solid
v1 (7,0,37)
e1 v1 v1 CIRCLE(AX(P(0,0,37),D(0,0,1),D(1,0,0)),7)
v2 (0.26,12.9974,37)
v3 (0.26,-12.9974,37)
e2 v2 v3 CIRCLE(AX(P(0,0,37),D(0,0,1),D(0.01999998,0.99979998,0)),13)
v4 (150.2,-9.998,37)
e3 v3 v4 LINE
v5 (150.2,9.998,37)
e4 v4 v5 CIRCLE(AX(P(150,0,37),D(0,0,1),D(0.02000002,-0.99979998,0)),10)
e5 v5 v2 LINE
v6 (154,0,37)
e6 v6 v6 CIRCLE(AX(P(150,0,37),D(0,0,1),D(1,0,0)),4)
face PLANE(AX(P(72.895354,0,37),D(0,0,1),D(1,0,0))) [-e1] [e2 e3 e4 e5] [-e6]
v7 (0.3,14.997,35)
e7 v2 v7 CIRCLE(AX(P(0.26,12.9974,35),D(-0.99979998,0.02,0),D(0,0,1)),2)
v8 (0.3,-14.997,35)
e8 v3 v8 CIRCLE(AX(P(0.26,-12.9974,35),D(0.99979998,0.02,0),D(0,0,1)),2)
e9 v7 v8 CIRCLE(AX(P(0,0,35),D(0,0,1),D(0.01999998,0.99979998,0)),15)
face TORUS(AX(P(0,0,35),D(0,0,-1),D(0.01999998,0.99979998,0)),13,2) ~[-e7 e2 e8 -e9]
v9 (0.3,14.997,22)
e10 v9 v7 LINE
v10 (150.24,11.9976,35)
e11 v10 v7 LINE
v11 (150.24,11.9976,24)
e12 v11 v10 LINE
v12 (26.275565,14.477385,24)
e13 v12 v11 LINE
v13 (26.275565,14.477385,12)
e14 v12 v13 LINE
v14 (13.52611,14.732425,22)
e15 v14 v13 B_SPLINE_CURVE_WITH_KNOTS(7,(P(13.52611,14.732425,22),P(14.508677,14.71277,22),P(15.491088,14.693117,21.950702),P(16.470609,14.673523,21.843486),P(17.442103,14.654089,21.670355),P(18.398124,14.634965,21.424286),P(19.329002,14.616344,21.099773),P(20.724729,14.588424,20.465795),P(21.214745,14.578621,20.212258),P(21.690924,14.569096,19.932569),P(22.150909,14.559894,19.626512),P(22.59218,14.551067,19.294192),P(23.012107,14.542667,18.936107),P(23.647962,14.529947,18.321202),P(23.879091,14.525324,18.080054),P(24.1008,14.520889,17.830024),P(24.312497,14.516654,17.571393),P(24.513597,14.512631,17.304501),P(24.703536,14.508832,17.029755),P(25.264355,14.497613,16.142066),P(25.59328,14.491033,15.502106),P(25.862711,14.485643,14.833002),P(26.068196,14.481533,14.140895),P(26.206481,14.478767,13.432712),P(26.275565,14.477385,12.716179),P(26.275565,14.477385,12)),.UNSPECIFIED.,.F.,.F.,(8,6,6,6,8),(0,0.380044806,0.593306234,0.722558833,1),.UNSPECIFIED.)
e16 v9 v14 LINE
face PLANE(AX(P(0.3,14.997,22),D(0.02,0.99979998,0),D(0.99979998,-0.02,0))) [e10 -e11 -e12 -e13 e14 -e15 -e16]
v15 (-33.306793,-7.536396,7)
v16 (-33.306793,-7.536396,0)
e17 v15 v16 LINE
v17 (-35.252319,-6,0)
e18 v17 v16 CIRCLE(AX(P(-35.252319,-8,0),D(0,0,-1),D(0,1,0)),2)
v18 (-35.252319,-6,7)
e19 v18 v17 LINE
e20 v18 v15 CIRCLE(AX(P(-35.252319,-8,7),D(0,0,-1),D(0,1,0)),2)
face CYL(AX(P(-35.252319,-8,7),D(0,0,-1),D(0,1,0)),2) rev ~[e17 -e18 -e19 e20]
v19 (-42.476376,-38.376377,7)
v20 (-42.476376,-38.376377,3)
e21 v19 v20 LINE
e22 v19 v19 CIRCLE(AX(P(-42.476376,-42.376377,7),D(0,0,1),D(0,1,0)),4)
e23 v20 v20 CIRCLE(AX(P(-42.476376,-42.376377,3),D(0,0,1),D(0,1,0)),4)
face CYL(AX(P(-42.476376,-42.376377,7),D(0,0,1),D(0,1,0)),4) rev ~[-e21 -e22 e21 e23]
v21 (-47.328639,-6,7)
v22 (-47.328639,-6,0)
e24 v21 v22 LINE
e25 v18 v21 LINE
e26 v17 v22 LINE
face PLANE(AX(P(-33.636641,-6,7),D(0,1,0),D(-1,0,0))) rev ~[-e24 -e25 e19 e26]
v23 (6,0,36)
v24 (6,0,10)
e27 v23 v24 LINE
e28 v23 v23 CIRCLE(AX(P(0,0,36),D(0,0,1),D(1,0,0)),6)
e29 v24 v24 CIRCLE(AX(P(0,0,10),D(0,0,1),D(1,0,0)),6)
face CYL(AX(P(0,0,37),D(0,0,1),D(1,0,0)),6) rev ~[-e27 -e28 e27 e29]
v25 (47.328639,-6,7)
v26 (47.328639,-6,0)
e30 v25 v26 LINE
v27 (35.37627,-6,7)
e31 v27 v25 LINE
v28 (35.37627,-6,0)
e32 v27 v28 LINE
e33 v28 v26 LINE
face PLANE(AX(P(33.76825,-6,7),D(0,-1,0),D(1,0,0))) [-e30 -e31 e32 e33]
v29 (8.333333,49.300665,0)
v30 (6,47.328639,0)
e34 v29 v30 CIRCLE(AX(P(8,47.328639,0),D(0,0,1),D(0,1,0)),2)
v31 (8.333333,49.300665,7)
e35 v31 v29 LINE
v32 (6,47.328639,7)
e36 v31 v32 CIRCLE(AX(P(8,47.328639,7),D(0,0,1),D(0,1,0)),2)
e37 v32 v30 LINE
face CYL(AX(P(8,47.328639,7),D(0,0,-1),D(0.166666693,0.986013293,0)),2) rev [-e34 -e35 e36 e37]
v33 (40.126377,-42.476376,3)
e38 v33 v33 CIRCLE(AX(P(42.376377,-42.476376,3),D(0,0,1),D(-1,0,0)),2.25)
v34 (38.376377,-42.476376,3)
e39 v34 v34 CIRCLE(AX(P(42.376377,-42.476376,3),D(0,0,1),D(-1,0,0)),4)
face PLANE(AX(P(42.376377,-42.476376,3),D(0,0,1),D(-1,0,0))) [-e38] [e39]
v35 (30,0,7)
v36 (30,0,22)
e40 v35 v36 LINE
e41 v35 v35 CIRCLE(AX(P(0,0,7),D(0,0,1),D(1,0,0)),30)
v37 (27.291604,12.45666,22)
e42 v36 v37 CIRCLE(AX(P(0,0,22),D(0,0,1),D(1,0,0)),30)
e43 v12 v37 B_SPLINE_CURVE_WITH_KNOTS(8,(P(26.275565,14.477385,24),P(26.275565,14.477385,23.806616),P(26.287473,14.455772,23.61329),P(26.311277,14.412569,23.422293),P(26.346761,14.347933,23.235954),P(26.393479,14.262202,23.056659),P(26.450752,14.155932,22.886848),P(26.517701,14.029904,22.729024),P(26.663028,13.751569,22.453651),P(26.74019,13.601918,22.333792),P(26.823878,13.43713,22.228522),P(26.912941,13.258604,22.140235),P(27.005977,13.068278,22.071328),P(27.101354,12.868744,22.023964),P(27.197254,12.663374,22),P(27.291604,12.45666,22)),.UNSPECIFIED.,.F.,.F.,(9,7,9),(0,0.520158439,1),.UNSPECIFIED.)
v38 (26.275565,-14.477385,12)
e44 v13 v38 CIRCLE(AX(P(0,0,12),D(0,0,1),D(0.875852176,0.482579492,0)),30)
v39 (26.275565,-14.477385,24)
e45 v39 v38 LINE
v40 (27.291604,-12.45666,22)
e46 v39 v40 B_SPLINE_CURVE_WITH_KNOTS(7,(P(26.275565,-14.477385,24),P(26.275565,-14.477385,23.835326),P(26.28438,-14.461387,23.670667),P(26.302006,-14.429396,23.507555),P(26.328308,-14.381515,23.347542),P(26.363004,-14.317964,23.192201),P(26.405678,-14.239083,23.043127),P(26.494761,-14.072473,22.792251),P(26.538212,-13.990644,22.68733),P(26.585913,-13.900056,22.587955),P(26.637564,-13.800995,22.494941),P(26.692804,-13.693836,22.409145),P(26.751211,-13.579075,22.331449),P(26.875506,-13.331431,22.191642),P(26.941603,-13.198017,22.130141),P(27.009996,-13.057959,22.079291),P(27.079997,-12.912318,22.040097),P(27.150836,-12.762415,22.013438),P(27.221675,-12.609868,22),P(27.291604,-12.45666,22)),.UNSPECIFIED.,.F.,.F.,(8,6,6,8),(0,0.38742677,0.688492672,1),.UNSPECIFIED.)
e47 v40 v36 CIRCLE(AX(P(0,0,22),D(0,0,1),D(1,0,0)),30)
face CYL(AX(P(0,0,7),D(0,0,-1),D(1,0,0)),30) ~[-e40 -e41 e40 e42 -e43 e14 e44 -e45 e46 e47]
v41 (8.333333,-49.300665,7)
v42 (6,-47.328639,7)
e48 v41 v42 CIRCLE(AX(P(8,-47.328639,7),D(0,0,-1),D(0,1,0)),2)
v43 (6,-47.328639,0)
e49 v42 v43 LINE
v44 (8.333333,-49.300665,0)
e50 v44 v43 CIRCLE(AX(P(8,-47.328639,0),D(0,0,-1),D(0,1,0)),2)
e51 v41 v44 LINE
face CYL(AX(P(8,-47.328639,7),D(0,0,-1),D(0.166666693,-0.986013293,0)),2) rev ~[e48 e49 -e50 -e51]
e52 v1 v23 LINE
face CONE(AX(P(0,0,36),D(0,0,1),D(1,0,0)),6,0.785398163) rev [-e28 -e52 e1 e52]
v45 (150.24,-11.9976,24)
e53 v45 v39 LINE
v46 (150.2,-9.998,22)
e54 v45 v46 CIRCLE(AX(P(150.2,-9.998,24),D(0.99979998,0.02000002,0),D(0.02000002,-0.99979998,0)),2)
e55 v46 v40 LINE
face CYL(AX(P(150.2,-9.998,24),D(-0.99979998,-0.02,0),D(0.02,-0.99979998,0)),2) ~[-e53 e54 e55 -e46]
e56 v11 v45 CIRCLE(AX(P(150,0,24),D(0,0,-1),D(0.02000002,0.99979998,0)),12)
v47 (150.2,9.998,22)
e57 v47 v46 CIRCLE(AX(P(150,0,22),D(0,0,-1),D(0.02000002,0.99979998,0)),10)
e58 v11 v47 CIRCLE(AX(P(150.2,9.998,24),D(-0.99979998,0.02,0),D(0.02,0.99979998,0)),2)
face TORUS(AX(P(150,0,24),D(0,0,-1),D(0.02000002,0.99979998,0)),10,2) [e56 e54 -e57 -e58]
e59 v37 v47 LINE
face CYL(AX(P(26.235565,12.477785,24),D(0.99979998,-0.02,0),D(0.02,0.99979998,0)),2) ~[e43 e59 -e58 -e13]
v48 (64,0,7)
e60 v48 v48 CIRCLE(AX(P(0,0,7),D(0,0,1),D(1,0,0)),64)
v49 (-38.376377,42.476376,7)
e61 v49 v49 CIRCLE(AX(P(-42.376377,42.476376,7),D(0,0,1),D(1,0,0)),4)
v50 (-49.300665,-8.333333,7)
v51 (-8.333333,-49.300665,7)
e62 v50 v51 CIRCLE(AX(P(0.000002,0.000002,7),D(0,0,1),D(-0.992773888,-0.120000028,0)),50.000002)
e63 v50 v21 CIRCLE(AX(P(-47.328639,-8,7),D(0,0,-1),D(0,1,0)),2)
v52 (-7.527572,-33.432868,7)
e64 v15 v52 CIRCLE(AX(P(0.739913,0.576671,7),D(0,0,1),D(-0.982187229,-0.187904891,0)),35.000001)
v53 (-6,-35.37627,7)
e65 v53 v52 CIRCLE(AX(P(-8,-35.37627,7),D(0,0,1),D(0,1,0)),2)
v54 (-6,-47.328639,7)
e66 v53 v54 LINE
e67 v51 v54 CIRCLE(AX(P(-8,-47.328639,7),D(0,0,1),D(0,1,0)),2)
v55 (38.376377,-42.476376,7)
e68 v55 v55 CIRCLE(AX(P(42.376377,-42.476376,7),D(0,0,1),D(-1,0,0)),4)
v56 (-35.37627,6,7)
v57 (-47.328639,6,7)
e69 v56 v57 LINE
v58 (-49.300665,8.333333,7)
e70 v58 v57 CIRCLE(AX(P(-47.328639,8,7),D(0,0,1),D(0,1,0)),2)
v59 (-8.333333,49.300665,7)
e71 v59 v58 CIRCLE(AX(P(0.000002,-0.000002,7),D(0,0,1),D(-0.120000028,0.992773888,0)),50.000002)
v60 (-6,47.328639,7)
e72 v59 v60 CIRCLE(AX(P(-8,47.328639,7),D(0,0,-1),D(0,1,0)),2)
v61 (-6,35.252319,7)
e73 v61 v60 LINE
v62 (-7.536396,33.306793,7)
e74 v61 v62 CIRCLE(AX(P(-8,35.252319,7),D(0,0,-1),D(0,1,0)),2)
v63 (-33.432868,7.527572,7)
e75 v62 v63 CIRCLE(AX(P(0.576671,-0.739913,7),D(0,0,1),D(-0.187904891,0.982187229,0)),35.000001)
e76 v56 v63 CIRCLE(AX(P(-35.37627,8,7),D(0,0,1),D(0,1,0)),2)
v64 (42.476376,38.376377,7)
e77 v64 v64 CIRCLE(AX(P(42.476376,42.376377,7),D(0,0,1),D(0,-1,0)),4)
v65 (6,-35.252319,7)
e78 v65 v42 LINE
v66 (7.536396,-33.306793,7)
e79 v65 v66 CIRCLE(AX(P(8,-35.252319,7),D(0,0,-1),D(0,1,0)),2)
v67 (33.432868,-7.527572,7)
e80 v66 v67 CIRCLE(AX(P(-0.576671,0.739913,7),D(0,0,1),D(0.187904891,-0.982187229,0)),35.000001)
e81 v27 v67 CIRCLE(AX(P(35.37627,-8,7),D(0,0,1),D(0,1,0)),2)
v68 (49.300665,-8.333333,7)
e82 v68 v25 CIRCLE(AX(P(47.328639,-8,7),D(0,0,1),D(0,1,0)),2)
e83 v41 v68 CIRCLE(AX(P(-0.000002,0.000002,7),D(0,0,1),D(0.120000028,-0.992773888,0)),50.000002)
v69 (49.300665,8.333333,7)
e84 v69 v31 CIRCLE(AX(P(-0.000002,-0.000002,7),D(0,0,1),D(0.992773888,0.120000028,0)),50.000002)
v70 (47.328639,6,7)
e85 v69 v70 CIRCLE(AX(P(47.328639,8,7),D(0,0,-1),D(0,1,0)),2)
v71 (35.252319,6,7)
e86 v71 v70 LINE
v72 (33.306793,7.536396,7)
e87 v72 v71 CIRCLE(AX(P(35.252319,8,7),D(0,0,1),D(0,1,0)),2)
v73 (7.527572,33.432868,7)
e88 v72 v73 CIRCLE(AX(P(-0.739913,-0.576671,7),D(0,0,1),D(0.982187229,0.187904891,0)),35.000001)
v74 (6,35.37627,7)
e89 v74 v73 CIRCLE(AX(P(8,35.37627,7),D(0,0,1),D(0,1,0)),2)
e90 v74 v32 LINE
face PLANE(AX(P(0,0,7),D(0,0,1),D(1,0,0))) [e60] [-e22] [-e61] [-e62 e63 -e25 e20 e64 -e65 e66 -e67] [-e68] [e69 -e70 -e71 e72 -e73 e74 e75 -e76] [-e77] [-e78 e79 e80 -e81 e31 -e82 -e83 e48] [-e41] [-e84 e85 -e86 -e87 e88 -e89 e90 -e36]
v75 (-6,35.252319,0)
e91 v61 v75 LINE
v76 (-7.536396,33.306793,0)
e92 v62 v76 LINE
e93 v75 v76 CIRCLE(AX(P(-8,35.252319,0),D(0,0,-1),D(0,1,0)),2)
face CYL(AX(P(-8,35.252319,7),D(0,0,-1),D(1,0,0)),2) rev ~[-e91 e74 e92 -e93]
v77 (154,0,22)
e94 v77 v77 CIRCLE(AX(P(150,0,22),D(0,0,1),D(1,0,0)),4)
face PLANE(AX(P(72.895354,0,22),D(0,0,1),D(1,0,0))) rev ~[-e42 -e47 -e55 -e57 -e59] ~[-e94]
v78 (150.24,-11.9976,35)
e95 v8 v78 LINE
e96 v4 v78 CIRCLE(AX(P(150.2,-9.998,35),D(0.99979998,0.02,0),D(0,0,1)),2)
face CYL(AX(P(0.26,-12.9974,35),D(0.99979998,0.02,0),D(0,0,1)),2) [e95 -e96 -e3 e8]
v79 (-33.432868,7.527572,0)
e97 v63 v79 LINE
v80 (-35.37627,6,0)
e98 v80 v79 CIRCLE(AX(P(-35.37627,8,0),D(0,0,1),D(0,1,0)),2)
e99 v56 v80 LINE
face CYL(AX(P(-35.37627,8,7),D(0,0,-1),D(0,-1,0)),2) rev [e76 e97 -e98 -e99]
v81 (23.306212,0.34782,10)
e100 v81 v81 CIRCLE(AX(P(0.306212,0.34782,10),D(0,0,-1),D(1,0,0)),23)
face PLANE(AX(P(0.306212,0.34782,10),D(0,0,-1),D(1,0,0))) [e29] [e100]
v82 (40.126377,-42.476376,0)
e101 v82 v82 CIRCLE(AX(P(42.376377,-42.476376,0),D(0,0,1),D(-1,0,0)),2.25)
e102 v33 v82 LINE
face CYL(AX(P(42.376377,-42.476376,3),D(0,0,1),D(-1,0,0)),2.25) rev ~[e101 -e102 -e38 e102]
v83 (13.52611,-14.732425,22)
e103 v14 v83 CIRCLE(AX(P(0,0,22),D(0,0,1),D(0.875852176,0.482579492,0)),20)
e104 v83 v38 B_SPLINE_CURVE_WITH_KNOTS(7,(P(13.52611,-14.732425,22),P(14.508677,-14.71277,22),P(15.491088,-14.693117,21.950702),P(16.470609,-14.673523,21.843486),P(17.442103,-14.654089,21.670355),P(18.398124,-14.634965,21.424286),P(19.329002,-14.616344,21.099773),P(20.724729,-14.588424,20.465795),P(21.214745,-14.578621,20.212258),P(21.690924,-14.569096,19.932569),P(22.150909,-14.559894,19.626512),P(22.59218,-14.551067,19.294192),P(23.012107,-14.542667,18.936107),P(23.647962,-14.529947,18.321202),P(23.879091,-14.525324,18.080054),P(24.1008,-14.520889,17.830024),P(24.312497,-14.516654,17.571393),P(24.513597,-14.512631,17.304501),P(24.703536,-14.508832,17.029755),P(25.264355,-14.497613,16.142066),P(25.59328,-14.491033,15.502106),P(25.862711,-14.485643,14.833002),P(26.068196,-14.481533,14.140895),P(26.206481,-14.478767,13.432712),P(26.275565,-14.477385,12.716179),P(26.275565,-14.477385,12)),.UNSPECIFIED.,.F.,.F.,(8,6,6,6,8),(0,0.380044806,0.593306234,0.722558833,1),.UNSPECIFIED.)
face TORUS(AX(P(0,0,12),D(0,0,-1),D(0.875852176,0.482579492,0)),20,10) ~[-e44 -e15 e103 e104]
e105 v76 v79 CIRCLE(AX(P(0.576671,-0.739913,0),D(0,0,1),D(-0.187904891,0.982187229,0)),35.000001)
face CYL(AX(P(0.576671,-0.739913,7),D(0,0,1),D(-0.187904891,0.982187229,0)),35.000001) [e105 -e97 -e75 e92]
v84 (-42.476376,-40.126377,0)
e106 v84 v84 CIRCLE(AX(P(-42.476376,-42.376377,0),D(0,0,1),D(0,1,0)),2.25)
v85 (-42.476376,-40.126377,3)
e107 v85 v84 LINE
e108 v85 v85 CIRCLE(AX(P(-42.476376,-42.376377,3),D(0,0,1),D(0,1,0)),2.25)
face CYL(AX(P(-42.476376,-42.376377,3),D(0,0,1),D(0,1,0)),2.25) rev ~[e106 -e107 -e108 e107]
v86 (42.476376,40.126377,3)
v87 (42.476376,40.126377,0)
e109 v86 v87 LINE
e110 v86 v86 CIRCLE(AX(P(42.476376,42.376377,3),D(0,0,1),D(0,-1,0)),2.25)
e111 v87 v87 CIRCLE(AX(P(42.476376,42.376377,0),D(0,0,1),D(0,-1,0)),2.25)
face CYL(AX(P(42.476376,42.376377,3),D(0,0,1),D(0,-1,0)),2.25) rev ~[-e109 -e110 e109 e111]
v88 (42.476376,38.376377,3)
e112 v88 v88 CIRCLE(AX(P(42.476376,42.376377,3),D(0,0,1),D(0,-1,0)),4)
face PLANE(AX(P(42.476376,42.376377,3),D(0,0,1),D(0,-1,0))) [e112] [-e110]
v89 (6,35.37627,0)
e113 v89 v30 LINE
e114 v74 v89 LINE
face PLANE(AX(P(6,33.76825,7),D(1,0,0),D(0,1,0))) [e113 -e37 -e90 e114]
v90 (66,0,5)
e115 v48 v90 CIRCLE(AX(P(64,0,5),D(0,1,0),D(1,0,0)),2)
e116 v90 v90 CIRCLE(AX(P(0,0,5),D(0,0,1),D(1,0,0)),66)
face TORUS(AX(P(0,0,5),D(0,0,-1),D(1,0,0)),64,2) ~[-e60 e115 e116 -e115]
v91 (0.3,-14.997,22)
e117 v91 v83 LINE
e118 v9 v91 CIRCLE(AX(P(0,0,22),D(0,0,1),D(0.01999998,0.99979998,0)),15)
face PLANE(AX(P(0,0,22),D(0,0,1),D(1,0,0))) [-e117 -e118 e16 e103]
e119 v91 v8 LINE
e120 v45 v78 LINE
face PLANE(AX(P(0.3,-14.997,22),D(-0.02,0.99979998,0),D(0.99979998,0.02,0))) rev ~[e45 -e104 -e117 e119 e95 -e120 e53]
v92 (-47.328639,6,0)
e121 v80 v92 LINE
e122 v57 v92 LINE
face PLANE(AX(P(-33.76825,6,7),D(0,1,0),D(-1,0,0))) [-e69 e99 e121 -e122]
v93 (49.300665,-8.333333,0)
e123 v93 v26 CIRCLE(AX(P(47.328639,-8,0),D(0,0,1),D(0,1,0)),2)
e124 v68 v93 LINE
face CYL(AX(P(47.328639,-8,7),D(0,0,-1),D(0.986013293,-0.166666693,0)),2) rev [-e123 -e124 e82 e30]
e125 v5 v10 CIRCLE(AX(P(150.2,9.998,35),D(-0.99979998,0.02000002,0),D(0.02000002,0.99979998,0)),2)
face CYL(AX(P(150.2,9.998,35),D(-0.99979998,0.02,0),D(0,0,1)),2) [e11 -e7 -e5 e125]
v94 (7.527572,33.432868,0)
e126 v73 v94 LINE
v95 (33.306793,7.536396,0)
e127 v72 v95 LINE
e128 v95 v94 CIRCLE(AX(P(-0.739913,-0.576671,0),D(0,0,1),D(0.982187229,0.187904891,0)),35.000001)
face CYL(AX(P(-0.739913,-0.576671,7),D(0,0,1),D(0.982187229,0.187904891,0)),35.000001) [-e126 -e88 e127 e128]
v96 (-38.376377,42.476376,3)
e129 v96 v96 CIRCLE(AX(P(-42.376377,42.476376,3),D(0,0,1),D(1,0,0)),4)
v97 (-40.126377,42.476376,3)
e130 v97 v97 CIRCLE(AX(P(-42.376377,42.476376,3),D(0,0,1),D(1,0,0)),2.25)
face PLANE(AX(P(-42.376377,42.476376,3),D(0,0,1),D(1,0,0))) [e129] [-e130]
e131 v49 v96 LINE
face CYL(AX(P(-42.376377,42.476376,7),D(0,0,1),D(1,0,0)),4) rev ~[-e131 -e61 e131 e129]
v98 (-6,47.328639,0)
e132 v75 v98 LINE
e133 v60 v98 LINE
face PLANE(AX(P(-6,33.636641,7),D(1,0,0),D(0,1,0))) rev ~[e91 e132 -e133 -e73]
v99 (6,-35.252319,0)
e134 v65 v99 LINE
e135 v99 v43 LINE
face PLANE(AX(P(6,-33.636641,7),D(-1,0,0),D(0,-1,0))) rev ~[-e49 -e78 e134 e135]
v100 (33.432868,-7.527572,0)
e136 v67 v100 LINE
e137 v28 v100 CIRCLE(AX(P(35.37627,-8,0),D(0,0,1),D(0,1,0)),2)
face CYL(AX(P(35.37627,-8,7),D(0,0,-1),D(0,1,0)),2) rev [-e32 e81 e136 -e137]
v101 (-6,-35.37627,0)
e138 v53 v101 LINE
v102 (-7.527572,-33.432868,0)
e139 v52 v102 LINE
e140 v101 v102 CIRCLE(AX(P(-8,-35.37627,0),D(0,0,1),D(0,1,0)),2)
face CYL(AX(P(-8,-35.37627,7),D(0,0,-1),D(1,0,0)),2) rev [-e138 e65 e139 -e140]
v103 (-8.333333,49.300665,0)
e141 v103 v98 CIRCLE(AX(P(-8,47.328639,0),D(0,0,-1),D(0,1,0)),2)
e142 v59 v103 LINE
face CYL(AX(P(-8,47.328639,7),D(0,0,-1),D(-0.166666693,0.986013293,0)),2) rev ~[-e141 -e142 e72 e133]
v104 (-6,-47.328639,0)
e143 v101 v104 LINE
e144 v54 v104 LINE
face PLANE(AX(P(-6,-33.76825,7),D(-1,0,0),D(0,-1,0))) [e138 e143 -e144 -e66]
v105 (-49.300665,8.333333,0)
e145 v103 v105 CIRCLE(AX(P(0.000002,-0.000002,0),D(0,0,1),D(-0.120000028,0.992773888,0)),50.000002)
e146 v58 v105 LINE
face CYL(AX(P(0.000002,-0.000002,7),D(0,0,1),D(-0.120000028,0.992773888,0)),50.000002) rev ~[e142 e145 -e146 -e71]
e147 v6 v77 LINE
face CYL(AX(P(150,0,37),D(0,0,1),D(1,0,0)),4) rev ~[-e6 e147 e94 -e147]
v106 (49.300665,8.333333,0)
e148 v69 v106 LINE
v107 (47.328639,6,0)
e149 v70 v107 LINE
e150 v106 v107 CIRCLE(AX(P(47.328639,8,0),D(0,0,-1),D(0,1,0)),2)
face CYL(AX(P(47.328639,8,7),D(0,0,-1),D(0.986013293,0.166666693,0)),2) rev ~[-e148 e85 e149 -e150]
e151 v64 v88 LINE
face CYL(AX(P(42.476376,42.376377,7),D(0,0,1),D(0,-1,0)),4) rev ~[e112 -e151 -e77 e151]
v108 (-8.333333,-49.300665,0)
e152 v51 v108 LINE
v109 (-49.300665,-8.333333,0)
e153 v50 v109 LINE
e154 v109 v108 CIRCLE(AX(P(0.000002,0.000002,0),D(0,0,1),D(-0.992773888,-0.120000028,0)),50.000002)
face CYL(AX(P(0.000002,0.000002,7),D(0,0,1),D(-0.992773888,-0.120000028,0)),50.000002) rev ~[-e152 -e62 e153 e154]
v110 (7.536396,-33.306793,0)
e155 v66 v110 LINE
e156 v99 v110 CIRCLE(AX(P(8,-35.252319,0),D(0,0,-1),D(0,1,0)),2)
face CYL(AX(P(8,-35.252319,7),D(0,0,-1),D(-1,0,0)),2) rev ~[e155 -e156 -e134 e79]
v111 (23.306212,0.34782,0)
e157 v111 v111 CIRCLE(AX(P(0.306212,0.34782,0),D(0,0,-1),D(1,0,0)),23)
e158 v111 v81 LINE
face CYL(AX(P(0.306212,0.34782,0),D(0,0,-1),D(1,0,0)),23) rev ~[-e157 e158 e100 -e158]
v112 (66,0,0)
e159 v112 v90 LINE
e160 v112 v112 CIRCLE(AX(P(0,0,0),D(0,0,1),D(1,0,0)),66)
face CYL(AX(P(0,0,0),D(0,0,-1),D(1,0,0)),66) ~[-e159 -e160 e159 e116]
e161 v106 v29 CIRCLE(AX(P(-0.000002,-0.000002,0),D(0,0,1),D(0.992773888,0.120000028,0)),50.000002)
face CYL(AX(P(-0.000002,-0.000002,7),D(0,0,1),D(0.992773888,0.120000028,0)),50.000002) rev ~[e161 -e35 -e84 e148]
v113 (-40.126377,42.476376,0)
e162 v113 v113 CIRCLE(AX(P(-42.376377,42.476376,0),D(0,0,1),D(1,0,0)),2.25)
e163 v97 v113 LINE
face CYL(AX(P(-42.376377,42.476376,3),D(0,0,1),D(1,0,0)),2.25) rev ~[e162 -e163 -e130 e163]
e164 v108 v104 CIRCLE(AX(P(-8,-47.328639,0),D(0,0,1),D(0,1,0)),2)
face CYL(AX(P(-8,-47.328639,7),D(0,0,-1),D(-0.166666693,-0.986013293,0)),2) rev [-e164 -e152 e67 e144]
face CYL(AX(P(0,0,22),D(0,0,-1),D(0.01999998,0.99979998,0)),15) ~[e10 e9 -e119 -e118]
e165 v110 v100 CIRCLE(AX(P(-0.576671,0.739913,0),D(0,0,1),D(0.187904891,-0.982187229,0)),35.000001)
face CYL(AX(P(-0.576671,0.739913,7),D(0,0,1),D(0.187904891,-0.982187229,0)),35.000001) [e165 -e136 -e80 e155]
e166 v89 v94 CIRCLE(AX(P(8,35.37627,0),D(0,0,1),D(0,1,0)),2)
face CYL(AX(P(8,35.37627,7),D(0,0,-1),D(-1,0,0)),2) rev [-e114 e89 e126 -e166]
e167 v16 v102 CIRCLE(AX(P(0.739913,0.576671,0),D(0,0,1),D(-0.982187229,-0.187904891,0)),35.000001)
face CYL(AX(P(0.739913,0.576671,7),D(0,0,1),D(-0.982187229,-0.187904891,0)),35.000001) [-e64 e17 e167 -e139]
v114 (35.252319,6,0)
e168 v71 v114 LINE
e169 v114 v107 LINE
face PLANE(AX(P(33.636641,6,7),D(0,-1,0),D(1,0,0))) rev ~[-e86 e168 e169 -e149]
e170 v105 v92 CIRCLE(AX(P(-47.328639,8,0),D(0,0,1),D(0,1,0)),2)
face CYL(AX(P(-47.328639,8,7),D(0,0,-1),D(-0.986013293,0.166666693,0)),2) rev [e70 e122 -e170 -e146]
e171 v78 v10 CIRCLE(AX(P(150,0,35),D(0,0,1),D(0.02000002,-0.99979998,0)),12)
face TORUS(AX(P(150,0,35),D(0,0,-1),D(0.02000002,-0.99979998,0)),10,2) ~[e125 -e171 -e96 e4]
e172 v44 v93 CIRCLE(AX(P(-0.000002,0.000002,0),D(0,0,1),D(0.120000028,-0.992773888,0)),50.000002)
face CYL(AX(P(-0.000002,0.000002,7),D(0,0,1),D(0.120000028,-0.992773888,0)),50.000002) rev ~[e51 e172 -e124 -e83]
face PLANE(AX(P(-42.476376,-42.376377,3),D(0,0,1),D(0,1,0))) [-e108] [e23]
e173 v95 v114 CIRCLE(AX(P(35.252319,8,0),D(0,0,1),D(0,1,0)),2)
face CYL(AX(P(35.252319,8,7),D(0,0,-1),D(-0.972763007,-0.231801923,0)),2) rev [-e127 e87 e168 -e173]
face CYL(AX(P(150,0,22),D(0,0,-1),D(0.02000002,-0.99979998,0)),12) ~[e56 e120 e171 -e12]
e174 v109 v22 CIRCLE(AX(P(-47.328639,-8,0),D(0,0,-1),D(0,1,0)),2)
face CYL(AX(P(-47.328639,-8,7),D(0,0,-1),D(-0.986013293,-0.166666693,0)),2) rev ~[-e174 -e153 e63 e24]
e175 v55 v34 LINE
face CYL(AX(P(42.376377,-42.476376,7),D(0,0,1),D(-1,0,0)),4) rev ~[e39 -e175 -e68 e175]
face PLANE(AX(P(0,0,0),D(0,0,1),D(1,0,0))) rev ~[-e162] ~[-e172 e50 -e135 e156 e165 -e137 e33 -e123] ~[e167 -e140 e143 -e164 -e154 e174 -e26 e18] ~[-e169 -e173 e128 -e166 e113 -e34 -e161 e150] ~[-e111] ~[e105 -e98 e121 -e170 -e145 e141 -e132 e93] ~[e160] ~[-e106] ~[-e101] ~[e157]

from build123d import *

# Parameters (mm, degrees)
SKETCH_R              = 66
PAD_DEPTH             = 7
SKETCH001_R           = 30
PAD001_DEPTH          = 15
PAD002_DEPTH          = 15
POCKET_DEPTH          = 7
POLARPATTERN_COUNT    = 4
FILLET_R              = 10
FILLET001_R           = 2
SKETCH004_R           = 6
POCKET001_DEPTH       = 37.001
SKETCH005_R           = 23
POCKET002_DEPTH       = 10
SKETCH006_R           = 4
POCKET003_DEPTH       = 4
POLARPATTERN001_COUNT = 4
SKETCH007_R           = 2.25
POCKET004_DEPTH       = 535.079942
POLARPATTERN002_COUNT = 4
CHAMFER_SIZE          = 1
SKETCH008_R           = 4
POCKET005_DEPTH       = 37.001


with BuildPart() as part:
    # Sketch → Pad (new body)
    with BuildSketch(Plane.XY):
        Circle(SKETCH_R)
    extrude(amount=PAD_DEPTH)

    # Sketch001 (on Face3 of Pad) → Pad001 (join)
    with BuildSketch(Plane.XY.offset(7)):
        Circle(SKETCH001_R)
    extrude(amount=PAD001_DEPTH)

    # Sketch002 (on Face5 of Pad001) → Pad002 (join)
    with BuildSketch(Plane.XY.offset(22)):
        with BuildLine():
            ThreePointArc((0.3, 14.997), (-15, 0), (0.3, -14.997))
            Line((0.3, -14.997), (150.24, -11.9976))
            ThreePointArc((150.24, -11.9976), (162, 0), (150.24, 11.9976))
            Line((0.3, 14.997), (150.24, 11.9976))
        make_face()
    extrude(amount=PAD002_DEPTH)

    # Sketch003 (on Face3 of Pad002) → Pocket (cut)
    with BuildSketch(Plane.XY.offset(7)):
        with BuildLine():
            ThreePointArc((-6, 49.638695), (-35.355339, 35.355339), (-49.638695, 6))
            Line((-33.76825, 6), (-49.638695, 6))
            ThreePointArc((-6, 33.636641), (-24.113209, 24.067543), (-33.76825, 6))
            Line((-6, 33.636641), (-6, 49.638695))
        make_face()
    pocket = extrude(amount=-POCKET_DEPTH, mode=Mode.SUBTRACT)

    # PolarPattern: Pocket ×4 about axis
    polarpattern_axis = Axis((0, 0, 0), (0, 0, 1))
    for i in range(1, POLARPATTERN_COUNT):
        add(pocket.rotate(polarpattern_axis, i * 360 / POLARPATTERN_COUNT), mode=Mode.SUBTRACT)

    # Fillet
    fillet_edges = [part.edges().sort_by_distance(p)[0] for p in [
        (-30, 0, 22),
    ]]
    fillet(fillet_edges, radius=FILLET_R)

    # Fillet001
    fillet001_edges = [part.edges().sort_by_distance(p)[0] for p in [
        (-33.636641, -6, 3.5),
        (-49.638695, -6, 3.5),
        (-66, 0, 7),
        (-49.638695, 6, 3.5),
        (-6, 49.638695, 3.5),
        (-6, -33.76825, 3.5),
        (-6, -49.638695, 3.5),
        (6, -49.638695, 3.5),
        (6, -33.636641, 3.5),
        (33.76825, -6, 3.5),
        (49.638695, -6, 3.5),
        (49.638695, 6, 3.5),
        (6, 49.638695, 3.5),
        (6, 33.76825, 3.5),
        (33.636641, 6, 3.5),
        (-6, 33.636641, 3.5),
        (-33.76825, 6, 3.5),
        (75.27, -13.4973, 37),
        (-15, 0, 37),
        (75.27, 13.4973, 37),
        (162, 0, 37),
        (88.257783, 13.237492, 22),
        (162, 0, 22),
        (88.257783, -13.237492, 22),
        (-30, 0, 12),
    ]]
    fillet(fillet001_edges, radius=FILLET001_R)

    # Sketch004 (on Face50 of Fillet001) → Pocket001 (cut, through all)
    with BuildSketch(Plane.XY.offset(37)):
        Circle(SKETCH004_R)
    extrude(amount=-POCKET001_DEPTH, mode=Mode.SUBTRACT)

    # Sketch005 (on Face51 of Pocket001) → Pocket002 (cut)
    with BuildSketch(Plane(origin=(0, 0, 0), x_dir=(1, 0, 0), z_dir=(0, 0, -1))):
        with Locations((0.306212, -0.34782)):
            Circle(SKETCH005_R)
    extrude(amount=-POCKET002_DEPTH, mode=Mode.SUBTRACT)

    # Sketch006 (on Face5 of Pocket002) → Pocket003 (cut)
    with BuildSketch(Plane.XY.offset(7)):
        with Locations((-42.376377, 42.476376)):
            Circle(SKETCH006_R)
    pocket003 = extrude(amount=-POCKET003_DEPTH, mode=Mode.SUBTRACT)

    # PolarPattern001: Pocket003 ×4 about axis
    polarpattern001_axis = Axis((0, 0, 0), (0, 0, 1))
    for i in range(1, POLARPATTERN001_COUNT):
        add(pocket003.rotate(polarpattern001_axis, i * 360 / POLARPATTERN001_COUNT), mode=Mode.SUBTRACT)

    # Sketch007 (on Face57 of PolarPattern001) → Pocket004 (cut, through all)
    with BuildSketch(Plane.XY.offset(3)):
        with Locations((-42.376377, 42.476376)):
            Circle(SKETCH007_R)
    pocket004 = extrude(amount=-POCKET004_DEPTH, mode=Mode.SUBTRACT)

    # PolarPattern002: Pocket004 ×4 about axis
    polarpattern002_axis = Axis((0, 0, 0), (0, 0, 1))
    for i in range(1, POLARPATTERN002_COUNT):
        add(pocket004.rotate(polarpattern002_axis, i * 360 / POLARPATTERN002_COUNT), mode=Mode.SUBTRACT)

    # Chamfer
    chamfer_edges = [part.edges().sort_by_distance(p)[0] for p in [
        (-6, 0, 37),
    ]]
    chamfer(chamfer_edges, length=CHAMFER_SIZE)

    # Sketch008 (on Face1 of Chamfer) → Pocket005 (cut, through all)
    with BuildSketch(Plane.XY.offset(37)):
        with Locations((150, 0)):
            Circle(SKETCH008_R)
    extrude(amount=-POCKET005_DEPTH, mode=Mode.SUBTRACT)


solid = part.part
